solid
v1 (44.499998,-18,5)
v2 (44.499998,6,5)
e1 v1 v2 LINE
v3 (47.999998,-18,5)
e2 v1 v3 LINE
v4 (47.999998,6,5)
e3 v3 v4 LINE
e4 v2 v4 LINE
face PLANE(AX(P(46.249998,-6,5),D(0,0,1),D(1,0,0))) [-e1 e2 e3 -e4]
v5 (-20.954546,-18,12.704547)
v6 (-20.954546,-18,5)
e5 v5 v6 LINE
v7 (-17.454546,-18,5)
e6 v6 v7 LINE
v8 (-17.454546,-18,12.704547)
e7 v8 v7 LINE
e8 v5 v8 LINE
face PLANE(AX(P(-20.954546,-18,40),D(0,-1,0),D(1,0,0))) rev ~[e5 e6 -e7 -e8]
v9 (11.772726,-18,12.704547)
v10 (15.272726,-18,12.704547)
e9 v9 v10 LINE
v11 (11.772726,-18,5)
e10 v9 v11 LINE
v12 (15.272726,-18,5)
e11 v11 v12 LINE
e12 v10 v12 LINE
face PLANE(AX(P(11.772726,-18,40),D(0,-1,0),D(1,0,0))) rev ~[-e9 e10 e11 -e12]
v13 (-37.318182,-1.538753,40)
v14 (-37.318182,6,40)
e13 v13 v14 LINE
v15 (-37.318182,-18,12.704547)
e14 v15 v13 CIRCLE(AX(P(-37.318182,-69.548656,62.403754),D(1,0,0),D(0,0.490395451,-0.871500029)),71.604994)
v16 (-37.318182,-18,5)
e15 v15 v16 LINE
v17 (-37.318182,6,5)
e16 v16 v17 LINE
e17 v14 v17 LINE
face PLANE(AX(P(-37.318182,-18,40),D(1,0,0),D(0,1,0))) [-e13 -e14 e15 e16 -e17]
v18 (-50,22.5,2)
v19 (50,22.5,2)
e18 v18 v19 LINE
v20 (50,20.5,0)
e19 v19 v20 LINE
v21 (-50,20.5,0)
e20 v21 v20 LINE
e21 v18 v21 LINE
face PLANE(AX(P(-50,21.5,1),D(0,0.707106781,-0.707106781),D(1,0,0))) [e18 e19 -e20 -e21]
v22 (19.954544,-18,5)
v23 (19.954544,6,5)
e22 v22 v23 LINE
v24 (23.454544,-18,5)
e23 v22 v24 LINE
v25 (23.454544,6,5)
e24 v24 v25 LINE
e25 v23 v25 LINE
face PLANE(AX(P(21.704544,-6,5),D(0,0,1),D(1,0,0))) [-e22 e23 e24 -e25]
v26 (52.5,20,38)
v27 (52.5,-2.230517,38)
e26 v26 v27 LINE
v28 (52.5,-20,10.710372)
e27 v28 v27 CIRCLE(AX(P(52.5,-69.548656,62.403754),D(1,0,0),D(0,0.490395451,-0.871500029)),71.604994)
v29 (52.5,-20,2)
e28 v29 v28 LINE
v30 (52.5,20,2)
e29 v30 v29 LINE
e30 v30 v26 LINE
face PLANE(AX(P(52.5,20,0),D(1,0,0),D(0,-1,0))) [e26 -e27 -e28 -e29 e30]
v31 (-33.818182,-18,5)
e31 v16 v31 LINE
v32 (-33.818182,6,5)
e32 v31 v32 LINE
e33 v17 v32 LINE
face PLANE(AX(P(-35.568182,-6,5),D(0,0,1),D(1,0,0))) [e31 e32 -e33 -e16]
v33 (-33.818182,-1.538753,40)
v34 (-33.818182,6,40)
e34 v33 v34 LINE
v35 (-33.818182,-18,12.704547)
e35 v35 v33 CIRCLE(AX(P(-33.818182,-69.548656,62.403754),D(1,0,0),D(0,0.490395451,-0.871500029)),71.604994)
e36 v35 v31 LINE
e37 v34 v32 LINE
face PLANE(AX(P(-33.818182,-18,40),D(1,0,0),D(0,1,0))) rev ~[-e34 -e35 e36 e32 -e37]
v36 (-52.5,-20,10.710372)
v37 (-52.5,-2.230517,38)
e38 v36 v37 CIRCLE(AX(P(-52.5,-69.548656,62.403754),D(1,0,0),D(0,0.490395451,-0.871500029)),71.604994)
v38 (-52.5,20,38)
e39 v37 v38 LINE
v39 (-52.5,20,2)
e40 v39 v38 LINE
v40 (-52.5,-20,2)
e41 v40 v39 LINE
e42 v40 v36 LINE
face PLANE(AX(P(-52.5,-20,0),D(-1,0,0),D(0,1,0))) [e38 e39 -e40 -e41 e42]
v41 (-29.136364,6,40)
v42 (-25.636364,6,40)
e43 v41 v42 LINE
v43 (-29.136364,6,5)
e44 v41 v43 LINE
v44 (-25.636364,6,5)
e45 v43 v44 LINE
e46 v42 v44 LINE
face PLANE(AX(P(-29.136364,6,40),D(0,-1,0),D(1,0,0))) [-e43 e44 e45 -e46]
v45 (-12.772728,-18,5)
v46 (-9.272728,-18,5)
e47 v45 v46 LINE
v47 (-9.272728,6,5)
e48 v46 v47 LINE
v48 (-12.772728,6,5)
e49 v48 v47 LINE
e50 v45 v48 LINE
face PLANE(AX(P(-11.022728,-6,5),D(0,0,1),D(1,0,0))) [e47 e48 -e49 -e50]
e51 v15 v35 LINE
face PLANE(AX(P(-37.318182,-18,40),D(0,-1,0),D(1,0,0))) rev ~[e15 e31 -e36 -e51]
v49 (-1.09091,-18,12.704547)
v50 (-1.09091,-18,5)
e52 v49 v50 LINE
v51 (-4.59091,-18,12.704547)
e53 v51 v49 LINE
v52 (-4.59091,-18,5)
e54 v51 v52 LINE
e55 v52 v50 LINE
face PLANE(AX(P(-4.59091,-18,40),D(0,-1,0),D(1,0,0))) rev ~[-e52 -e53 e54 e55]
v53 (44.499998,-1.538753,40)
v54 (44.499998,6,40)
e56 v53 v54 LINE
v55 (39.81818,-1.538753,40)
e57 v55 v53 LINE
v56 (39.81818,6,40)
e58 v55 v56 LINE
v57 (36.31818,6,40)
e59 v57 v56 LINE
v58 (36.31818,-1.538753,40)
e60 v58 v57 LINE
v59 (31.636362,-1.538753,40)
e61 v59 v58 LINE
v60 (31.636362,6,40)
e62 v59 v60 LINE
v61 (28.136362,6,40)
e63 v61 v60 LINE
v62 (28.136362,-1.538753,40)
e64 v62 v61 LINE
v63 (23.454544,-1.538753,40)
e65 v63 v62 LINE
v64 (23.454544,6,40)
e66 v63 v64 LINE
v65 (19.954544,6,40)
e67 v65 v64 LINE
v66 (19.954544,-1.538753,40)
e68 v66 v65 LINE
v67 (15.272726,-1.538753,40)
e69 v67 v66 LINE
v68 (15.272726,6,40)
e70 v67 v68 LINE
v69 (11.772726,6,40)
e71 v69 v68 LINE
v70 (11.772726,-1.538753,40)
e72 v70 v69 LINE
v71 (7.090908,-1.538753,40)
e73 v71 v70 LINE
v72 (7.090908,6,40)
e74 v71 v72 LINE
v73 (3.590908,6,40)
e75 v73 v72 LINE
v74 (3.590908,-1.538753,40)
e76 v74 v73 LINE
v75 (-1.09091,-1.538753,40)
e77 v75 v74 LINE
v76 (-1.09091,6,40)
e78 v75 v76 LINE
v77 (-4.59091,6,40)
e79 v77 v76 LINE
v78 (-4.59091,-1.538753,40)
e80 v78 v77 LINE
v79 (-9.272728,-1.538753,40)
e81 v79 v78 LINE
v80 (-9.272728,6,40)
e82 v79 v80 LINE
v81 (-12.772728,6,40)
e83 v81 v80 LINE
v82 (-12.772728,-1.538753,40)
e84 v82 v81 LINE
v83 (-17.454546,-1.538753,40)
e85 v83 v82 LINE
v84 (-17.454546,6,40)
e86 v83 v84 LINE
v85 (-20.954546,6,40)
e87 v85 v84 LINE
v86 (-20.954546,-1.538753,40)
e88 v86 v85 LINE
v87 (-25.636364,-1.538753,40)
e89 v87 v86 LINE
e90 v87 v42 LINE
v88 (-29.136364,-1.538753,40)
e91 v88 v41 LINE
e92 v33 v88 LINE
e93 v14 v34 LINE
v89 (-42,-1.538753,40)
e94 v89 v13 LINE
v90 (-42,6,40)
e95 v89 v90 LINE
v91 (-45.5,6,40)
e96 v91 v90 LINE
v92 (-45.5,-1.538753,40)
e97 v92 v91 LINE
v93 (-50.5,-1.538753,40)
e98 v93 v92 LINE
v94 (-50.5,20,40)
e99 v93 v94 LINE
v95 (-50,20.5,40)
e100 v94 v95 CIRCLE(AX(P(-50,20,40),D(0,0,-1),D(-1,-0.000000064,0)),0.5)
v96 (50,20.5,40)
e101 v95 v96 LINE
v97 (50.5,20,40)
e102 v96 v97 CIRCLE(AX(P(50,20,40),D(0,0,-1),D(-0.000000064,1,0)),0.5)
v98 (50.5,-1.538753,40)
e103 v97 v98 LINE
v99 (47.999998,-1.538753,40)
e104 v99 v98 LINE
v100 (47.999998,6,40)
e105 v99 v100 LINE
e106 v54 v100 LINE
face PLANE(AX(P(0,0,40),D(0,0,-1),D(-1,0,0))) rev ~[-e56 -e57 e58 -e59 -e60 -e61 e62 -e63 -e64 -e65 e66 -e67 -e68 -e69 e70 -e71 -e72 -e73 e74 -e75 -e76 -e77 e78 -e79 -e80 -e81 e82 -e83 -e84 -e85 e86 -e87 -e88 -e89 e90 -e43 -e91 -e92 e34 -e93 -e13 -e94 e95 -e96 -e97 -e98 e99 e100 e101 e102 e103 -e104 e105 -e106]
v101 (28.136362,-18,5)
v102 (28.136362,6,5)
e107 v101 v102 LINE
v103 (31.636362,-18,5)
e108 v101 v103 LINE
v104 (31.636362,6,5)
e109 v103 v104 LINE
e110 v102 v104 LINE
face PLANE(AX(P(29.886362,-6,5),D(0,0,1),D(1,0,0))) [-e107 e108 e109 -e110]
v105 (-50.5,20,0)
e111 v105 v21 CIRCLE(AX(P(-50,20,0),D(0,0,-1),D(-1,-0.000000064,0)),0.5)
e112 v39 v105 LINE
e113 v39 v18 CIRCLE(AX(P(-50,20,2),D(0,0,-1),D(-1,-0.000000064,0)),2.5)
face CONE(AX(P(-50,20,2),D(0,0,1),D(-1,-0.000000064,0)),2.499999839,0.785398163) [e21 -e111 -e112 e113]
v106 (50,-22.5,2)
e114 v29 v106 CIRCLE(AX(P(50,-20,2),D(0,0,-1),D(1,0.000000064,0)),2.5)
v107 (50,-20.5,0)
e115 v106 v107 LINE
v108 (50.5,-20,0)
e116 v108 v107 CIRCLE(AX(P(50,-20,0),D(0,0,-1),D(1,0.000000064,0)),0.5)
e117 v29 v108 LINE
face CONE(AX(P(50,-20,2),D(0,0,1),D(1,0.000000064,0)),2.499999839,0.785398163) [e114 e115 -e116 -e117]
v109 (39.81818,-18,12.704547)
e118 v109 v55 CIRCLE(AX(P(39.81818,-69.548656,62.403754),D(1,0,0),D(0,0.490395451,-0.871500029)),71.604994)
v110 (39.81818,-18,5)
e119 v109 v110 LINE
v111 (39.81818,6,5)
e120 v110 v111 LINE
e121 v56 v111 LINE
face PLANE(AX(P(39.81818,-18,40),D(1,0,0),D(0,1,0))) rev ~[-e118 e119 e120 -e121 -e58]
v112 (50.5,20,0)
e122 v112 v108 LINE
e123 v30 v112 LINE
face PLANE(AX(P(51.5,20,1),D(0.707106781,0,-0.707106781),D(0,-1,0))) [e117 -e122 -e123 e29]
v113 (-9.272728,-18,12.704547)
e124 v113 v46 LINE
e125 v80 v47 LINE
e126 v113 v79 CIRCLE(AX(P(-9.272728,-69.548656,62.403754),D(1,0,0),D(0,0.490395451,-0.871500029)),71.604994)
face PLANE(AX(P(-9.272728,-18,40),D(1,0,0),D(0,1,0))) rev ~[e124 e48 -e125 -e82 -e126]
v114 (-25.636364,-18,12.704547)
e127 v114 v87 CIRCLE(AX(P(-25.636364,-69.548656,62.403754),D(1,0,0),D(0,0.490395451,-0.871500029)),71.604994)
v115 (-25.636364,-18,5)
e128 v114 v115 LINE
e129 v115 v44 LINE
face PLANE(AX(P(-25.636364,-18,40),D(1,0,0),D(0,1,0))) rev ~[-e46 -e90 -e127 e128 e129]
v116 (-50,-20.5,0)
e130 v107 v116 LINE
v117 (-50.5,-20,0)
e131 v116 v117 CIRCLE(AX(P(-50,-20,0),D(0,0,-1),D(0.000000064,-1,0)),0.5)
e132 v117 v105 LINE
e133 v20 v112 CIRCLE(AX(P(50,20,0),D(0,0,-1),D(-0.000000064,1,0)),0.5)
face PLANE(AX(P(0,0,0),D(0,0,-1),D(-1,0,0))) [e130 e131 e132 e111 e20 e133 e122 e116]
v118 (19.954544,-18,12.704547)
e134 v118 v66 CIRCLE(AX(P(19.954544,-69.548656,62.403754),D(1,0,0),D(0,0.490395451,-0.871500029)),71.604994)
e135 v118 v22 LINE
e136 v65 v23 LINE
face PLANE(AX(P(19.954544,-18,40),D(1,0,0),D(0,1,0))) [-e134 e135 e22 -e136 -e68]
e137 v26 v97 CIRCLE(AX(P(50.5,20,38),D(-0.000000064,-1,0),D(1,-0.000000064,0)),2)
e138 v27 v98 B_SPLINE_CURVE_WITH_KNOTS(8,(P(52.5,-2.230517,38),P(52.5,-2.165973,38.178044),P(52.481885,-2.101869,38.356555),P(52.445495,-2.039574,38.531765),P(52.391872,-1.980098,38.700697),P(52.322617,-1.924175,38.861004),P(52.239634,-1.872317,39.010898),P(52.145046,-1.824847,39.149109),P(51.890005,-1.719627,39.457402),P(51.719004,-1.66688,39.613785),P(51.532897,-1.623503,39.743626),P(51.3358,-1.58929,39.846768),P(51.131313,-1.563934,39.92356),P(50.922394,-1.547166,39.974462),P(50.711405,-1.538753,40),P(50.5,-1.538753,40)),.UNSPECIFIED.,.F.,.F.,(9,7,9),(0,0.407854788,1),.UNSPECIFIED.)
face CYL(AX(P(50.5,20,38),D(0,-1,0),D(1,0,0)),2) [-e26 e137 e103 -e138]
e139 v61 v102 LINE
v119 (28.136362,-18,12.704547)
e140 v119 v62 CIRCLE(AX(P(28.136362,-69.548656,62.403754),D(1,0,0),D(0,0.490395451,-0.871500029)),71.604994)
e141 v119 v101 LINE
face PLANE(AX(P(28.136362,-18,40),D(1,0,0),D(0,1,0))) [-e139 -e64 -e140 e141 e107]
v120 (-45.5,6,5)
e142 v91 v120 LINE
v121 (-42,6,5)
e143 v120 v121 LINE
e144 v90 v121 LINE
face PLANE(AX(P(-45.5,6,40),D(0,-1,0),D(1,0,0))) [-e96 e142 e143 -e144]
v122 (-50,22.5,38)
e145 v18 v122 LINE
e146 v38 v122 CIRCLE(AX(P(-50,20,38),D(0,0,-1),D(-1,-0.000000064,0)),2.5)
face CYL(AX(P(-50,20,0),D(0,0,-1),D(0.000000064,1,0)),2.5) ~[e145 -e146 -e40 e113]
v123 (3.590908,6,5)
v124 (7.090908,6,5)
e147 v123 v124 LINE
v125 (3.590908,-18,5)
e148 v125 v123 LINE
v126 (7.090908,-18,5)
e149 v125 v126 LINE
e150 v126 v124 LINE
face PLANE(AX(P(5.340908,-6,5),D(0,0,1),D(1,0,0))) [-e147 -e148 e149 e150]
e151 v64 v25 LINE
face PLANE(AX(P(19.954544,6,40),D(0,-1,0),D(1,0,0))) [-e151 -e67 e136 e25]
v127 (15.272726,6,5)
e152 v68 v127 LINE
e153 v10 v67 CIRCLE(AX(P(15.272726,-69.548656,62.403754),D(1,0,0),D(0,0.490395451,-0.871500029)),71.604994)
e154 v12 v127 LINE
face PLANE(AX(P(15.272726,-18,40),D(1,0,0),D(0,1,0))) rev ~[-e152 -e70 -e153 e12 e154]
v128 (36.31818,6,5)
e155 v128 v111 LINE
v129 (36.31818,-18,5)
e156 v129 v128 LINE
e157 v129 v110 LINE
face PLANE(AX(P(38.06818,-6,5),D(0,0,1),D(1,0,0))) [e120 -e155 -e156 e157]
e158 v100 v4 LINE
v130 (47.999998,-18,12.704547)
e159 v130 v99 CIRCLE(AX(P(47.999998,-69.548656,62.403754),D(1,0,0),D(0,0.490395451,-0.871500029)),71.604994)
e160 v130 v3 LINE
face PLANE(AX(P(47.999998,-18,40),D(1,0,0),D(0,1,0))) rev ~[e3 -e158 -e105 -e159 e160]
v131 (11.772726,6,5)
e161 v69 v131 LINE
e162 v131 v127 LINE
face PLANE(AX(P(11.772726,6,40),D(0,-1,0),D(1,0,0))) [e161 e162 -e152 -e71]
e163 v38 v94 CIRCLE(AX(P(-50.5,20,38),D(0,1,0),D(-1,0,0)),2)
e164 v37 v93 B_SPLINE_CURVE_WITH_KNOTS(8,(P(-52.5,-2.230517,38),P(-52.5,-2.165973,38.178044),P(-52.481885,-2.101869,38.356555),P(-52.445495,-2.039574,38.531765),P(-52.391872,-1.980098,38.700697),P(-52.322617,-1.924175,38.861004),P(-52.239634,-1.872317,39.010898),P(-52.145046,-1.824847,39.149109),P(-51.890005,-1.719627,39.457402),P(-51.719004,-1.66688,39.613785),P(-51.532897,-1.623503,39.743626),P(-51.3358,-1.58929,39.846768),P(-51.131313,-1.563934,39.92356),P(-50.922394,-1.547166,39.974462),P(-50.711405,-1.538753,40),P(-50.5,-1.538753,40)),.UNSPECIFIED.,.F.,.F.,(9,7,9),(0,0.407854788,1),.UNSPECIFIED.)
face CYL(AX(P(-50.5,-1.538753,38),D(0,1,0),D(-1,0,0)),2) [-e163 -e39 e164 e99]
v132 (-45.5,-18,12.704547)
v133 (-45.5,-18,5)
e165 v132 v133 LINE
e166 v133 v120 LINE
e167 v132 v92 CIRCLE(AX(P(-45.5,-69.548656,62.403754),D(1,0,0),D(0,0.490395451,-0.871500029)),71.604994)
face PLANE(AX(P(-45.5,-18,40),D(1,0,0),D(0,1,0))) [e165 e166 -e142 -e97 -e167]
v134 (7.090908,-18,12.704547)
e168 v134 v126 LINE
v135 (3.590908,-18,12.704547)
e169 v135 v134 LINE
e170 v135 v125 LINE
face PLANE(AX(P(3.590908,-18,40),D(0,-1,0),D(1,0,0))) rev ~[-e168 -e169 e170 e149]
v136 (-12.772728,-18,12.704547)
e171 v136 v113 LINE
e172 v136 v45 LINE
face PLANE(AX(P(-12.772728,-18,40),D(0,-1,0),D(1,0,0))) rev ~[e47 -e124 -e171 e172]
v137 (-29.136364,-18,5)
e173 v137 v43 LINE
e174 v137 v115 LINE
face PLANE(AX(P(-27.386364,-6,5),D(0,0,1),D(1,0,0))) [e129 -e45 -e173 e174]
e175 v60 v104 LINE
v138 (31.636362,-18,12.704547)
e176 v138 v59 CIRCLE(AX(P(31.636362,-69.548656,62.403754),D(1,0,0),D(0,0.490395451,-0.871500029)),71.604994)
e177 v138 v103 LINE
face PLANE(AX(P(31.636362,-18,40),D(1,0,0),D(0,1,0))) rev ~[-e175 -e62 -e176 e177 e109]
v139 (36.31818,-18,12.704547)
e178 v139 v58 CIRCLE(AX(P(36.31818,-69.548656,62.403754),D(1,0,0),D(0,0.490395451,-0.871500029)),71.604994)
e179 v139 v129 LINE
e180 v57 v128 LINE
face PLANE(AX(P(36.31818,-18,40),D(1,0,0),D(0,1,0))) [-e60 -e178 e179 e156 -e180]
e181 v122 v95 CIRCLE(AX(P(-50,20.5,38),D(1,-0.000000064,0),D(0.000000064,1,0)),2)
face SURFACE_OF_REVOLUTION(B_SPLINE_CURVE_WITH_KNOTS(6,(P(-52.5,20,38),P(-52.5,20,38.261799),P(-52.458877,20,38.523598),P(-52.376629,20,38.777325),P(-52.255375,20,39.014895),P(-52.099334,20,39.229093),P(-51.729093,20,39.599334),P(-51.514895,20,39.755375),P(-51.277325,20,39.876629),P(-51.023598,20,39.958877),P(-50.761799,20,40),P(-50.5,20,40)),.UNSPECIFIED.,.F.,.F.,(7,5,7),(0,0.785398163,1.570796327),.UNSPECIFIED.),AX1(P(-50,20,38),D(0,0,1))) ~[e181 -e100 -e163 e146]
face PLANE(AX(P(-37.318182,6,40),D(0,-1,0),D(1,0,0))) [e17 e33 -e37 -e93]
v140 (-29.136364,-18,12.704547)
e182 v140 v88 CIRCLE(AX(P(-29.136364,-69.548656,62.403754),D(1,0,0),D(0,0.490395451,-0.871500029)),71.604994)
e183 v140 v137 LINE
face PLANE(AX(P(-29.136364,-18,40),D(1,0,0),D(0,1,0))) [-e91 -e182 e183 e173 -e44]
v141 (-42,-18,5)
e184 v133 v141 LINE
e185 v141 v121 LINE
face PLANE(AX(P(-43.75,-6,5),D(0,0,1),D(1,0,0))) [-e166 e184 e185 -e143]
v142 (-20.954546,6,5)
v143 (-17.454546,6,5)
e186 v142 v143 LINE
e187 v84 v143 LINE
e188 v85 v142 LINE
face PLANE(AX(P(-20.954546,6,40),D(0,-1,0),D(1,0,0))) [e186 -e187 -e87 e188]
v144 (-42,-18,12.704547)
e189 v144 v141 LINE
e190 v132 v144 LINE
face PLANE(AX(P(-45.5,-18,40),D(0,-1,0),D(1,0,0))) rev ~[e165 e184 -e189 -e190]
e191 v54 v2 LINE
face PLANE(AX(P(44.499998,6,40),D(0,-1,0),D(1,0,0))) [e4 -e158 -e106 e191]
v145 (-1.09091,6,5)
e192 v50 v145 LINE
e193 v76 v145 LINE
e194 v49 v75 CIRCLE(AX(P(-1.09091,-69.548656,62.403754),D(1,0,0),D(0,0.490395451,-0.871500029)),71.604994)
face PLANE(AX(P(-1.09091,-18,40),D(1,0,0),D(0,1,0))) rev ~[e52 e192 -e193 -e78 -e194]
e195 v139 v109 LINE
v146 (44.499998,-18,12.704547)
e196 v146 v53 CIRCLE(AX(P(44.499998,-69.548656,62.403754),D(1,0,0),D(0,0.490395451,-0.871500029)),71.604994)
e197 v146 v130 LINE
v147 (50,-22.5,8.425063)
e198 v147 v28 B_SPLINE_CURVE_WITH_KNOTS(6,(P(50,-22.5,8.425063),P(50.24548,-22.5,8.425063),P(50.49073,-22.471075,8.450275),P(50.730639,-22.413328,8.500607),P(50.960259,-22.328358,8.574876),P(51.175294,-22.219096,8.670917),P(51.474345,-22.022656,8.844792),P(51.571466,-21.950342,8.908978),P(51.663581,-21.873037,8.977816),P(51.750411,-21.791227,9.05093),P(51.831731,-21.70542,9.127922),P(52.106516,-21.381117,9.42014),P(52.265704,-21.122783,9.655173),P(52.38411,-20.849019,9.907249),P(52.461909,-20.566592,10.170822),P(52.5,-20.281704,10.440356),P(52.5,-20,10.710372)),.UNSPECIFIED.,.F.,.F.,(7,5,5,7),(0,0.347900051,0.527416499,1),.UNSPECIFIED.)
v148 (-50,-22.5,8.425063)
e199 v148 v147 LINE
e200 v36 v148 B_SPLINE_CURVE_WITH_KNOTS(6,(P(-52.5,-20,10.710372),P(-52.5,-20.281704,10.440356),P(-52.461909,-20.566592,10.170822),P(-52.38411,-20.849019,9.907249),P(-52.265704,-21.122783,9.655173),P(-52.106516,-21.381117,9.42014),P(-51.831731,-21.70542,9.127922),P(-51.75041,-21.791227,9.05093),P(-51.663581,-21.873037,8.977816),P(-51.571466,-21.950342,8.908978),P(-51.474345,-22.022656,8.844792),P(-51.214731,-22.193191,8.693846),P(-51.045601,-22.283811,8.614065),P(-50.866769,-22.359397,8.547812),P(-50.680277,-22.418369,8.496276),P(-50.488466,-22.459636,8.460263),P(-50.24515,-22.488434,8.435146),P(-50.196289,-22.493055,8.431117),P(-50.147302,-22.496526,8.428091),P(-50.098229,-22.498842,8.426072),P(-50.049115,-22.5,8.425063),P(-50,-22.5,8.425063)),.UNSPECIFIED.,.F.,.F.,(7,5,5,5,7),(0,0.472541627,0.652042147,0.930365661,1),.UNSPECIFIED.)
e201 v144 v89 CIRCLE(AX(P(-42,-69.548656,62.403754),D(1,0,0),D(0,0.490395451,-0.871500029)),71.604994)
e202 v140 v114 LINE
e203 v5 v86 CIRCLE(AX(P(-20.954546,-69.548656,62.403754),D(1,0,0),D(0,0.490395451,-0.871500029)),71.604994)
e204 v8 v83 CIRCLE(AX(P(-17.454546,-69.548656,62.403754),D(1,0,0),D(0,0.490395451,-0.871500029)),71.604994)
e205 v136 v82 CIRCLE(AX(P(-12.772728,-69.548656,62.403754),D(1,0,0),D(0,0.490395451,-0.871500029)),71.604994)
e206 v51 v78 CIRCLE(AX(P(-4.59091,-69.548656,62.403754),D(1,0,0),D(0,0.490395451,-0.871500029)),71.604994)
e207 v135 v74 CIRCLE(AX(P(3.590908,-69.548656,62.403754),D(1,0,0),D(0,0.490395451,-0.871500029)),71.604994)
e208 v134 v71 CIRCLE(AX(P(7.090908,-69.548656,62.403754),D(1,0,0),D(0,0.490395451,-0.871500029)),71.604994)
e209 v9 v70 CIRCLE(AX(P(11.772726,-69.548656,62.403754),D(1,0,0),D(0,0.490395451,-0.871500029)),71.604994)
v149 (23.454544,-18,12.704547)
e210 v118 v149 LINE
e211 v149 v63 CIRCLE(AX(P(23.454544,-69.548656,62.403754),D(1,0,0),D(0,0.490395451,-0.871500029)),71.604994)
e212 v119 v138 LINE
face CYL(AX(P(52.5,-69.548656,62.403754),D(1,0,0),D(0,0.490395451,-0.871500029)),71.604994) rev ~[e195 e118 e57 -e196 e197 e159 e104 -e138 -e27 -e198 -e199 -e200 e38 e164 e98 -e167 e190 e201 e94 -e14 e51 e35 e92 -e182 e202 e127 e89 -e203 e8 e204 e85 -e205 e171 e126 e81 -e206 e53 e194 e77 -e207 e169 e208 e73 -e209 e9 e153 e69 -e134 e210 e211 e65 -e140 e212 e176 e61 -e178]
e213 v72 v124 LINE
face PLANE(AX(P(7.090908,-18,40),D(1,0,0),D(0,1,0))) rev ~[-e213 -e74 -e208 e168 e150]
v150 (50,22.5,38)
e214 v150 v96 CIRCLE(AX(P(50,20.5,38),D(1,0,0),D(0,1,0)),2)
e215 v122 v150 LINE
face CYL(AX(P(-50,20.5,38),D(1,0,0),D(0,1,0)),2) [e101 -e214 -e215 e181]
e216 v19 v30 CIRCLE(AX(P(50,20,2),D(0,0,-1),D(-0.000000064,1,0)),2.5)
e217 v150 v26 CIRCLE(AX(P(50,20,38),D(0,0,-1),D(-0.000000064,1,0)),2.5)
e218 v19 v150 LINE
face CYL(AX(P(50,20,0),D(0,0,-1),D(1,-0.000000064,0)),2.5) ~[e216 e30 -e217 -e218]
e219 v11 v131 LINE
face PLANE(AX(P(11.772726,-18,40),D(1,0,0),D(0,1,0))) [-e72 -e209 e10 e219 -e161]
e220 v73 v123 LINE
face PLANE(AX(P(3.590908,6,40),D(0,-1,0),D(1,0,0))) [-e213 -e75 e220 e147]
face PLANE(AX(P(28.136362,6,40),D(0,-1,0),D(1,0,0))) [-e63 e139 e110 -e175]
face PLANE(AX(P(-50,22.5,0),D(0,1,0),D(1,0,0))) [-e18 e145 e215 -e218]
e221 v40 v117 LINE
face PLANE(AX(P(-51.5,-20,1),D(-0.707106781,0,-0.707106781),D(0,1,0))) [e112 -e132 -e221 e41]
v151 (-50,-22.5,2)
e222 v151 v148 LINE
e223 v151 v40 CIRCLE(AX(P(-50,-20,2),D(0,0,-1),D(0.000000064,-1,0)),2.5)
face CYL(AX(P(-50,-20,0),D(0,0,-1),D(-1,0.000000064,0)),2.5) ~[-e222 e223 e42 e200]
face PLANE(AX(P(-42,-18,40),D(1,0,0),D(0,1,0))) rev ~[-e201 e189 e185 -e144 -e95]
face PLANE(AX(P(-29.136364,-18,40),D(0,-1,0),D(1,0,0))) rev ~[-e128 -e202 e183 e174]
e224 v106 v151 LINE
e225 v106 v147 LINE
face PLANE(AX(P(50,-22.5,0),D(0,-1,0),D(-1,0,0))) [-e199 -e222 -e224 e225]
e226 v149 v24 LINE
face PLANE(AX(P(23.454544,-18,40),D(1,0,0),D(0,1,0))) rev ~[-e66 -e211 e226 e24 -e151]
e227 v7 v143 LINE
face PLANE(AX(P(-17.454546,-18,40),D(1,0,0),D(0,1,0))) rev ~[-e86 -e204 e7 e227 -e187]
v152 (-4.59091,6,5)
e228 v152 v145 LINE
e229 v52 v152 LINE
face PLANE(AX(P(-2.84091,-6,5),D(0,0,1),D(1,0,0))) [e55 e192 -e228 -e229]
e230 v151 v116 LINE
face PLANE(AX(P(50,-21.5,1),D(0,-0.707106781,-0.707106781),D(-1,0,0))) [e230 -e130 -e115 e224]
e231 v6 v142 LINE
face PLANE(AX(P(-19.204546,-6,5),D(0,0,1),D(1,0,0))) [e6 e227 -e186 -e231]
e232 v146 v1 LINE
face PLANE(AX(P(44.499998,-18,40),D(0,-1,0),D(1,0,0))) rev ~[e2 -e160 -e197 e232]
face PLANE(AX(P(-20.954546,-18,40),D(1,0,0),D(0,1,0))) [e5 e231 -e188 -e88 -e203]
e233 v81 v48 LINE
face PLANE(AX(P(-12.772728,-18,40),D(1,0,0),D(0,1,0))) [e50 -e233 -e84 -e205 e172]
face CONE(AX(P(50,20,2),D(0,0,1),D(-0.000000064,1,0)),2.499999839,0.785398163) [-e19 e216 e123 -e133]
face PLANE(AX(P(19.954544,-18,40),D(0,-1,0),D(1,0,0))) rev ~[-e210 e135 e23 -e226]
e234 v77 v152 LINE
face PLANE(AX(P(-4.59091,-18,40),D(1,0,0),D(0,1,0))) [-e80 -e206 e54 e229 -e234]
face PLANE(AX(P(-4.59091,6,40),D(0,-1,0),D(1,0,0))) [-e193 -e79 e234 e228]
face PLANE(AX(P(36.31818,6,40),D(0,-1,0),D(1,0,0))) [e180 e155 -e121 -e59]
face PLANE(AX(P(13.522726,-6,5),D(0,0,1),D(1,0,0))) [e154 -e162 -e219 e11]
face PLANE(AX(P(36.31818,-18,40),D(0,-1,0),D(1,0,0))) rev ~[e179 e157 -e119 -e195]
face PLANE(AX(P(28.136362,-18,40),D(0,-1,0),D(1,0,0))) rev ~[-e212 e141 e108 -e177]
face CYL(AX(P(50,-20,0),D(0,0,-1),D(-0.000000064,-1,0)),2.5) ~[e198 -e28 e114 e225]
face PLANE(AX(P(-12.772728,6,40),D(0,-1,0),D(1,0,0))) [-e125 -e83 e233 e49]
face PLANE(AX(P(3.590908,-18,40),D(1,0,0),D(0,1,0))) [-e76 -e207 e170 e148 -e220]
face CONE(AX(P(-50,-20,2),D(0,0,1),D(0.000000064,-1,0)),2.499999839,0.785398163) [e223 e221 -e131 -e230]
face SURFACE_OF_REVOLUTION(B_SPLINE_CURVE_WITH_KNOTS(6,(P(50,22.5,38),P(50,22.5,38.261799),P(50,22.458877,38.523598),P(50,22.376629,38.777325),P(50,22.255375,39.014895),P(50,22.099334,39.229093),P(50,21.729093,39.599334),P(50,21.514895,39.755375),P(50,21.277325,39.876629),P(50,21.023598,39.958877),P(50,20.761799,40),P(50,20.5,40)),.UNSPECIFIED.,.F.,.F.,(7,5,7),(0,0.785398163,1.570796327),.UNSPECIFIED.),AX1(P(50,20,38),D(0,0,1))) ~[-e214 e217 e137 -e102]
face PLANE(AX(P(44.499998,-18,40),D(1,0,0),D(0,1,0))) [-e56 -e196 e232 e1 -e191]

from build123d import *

# Parameters (mm, degrees)
PAD_DEPTH           = 40
POCKET_DEPTH        = 105.001
SKETCH002_W         = 3.5
SKETCH002_H         = 24
POCKET001_DEPTH     = 35
LINEARPATTERN_COUNT = 12
LINEARPATTERN_PITCH = 8.181818
FILLET_R            = 2
CHAMFER_SIZE        = 2


with BuildPart() as part:
    # Sketch → Pad (new body)
    with BuildSketch(Plane.XY):
        with BuildLine():
            Line((-50, 22.5), (50, 22.5))
            ThreePointArc((52.5, 20), (51.767767, 21.767767), (50, 22.5))
            Line((52.5, 20), (52.5, -20))
            ThreePointArc((50, -22.5), (51.767767, -21.767767), (52.5, -20))
            Line((50, -22.5), (-50, -22.5))
            ThreePointArc((-52.5, -20), (-51.767767, -21.767767), (-50, -22.5))
            Line((-52.5, -20), (-52.5, 20))
            ThreePointArc((-50, 22.5), (-51.767767, 21.767767), (-52.5, 20))
        make_face()
    extrude(amount=PAD_DEPTH)

    # Sketch001 (on Face5 of Pad) → Pocket (cut, through all)
    with BuildSketch(Plane.YZ.offset(52.5)):
        with BuildLine():
            ThreePointArc((-34.433893, 0), (-12.512323, 19.11251), (0, 45.366749))
            Line((0, 45.366749), (-64.611679, 45.366749))
            Line((-64.611679, 45.366749), (-64.611679, 0))
            Line((-64.611679, 0), (-34.433893, 0))
        make_face()
    extrude(amount=-POCKET_DEPTH, mode=Mode.SUBTRACT)

    # Sketch002 (on Face4 of Pocket) → Pocket001 (cut)
    with BuildSketch(Plane.XY.offset(40)):
        with Locations((-43.75, -6)):
            Rectangle(SKETCH002_W, SKETCH002_H)
    pocket001 = extrude(amount=-POCKET001_DEPTH, mode=Mode.SUBTRACT)

    # LinearPattern: Pocket001 ×12
    with Locations(*[(i * LINEARPATTERN_PITCH, 0, 0) for i in range(1, LINEARPATTERN_COUNT)]):
        add(pocket001, mode=Mode.SUBTRACT)

    # Fillet
    fillet_edges = [part.edges().sort_by_distance(p)[0] for p in [
        (0, 22.5, 40),
    ]]
    fillet(fillet_edges, radius=FILLET_R)

    # Chamfer
    chamfer_edges = [part.edges().sort_by_distance(p)[0] for p in [
        (-50, 22.5, 19),
        (0, 22.5, 38),
        (0, 22.5, 0),
        (50, 22.5, 19),
        (-52.5, 0, 0),
        (-51.767767, 21.767767, 0),
        (51.767767, 21.767767, 0),
        (52.5, 0, 0),
        (51.767767, -21.767767, 0),
        (0, -22.5, 0),
        (-51.767767, -21.767767, 0),
    ]]
    chamfer(chamfer_edges, length=CHAMFER_SIZE)


solid = part.part
